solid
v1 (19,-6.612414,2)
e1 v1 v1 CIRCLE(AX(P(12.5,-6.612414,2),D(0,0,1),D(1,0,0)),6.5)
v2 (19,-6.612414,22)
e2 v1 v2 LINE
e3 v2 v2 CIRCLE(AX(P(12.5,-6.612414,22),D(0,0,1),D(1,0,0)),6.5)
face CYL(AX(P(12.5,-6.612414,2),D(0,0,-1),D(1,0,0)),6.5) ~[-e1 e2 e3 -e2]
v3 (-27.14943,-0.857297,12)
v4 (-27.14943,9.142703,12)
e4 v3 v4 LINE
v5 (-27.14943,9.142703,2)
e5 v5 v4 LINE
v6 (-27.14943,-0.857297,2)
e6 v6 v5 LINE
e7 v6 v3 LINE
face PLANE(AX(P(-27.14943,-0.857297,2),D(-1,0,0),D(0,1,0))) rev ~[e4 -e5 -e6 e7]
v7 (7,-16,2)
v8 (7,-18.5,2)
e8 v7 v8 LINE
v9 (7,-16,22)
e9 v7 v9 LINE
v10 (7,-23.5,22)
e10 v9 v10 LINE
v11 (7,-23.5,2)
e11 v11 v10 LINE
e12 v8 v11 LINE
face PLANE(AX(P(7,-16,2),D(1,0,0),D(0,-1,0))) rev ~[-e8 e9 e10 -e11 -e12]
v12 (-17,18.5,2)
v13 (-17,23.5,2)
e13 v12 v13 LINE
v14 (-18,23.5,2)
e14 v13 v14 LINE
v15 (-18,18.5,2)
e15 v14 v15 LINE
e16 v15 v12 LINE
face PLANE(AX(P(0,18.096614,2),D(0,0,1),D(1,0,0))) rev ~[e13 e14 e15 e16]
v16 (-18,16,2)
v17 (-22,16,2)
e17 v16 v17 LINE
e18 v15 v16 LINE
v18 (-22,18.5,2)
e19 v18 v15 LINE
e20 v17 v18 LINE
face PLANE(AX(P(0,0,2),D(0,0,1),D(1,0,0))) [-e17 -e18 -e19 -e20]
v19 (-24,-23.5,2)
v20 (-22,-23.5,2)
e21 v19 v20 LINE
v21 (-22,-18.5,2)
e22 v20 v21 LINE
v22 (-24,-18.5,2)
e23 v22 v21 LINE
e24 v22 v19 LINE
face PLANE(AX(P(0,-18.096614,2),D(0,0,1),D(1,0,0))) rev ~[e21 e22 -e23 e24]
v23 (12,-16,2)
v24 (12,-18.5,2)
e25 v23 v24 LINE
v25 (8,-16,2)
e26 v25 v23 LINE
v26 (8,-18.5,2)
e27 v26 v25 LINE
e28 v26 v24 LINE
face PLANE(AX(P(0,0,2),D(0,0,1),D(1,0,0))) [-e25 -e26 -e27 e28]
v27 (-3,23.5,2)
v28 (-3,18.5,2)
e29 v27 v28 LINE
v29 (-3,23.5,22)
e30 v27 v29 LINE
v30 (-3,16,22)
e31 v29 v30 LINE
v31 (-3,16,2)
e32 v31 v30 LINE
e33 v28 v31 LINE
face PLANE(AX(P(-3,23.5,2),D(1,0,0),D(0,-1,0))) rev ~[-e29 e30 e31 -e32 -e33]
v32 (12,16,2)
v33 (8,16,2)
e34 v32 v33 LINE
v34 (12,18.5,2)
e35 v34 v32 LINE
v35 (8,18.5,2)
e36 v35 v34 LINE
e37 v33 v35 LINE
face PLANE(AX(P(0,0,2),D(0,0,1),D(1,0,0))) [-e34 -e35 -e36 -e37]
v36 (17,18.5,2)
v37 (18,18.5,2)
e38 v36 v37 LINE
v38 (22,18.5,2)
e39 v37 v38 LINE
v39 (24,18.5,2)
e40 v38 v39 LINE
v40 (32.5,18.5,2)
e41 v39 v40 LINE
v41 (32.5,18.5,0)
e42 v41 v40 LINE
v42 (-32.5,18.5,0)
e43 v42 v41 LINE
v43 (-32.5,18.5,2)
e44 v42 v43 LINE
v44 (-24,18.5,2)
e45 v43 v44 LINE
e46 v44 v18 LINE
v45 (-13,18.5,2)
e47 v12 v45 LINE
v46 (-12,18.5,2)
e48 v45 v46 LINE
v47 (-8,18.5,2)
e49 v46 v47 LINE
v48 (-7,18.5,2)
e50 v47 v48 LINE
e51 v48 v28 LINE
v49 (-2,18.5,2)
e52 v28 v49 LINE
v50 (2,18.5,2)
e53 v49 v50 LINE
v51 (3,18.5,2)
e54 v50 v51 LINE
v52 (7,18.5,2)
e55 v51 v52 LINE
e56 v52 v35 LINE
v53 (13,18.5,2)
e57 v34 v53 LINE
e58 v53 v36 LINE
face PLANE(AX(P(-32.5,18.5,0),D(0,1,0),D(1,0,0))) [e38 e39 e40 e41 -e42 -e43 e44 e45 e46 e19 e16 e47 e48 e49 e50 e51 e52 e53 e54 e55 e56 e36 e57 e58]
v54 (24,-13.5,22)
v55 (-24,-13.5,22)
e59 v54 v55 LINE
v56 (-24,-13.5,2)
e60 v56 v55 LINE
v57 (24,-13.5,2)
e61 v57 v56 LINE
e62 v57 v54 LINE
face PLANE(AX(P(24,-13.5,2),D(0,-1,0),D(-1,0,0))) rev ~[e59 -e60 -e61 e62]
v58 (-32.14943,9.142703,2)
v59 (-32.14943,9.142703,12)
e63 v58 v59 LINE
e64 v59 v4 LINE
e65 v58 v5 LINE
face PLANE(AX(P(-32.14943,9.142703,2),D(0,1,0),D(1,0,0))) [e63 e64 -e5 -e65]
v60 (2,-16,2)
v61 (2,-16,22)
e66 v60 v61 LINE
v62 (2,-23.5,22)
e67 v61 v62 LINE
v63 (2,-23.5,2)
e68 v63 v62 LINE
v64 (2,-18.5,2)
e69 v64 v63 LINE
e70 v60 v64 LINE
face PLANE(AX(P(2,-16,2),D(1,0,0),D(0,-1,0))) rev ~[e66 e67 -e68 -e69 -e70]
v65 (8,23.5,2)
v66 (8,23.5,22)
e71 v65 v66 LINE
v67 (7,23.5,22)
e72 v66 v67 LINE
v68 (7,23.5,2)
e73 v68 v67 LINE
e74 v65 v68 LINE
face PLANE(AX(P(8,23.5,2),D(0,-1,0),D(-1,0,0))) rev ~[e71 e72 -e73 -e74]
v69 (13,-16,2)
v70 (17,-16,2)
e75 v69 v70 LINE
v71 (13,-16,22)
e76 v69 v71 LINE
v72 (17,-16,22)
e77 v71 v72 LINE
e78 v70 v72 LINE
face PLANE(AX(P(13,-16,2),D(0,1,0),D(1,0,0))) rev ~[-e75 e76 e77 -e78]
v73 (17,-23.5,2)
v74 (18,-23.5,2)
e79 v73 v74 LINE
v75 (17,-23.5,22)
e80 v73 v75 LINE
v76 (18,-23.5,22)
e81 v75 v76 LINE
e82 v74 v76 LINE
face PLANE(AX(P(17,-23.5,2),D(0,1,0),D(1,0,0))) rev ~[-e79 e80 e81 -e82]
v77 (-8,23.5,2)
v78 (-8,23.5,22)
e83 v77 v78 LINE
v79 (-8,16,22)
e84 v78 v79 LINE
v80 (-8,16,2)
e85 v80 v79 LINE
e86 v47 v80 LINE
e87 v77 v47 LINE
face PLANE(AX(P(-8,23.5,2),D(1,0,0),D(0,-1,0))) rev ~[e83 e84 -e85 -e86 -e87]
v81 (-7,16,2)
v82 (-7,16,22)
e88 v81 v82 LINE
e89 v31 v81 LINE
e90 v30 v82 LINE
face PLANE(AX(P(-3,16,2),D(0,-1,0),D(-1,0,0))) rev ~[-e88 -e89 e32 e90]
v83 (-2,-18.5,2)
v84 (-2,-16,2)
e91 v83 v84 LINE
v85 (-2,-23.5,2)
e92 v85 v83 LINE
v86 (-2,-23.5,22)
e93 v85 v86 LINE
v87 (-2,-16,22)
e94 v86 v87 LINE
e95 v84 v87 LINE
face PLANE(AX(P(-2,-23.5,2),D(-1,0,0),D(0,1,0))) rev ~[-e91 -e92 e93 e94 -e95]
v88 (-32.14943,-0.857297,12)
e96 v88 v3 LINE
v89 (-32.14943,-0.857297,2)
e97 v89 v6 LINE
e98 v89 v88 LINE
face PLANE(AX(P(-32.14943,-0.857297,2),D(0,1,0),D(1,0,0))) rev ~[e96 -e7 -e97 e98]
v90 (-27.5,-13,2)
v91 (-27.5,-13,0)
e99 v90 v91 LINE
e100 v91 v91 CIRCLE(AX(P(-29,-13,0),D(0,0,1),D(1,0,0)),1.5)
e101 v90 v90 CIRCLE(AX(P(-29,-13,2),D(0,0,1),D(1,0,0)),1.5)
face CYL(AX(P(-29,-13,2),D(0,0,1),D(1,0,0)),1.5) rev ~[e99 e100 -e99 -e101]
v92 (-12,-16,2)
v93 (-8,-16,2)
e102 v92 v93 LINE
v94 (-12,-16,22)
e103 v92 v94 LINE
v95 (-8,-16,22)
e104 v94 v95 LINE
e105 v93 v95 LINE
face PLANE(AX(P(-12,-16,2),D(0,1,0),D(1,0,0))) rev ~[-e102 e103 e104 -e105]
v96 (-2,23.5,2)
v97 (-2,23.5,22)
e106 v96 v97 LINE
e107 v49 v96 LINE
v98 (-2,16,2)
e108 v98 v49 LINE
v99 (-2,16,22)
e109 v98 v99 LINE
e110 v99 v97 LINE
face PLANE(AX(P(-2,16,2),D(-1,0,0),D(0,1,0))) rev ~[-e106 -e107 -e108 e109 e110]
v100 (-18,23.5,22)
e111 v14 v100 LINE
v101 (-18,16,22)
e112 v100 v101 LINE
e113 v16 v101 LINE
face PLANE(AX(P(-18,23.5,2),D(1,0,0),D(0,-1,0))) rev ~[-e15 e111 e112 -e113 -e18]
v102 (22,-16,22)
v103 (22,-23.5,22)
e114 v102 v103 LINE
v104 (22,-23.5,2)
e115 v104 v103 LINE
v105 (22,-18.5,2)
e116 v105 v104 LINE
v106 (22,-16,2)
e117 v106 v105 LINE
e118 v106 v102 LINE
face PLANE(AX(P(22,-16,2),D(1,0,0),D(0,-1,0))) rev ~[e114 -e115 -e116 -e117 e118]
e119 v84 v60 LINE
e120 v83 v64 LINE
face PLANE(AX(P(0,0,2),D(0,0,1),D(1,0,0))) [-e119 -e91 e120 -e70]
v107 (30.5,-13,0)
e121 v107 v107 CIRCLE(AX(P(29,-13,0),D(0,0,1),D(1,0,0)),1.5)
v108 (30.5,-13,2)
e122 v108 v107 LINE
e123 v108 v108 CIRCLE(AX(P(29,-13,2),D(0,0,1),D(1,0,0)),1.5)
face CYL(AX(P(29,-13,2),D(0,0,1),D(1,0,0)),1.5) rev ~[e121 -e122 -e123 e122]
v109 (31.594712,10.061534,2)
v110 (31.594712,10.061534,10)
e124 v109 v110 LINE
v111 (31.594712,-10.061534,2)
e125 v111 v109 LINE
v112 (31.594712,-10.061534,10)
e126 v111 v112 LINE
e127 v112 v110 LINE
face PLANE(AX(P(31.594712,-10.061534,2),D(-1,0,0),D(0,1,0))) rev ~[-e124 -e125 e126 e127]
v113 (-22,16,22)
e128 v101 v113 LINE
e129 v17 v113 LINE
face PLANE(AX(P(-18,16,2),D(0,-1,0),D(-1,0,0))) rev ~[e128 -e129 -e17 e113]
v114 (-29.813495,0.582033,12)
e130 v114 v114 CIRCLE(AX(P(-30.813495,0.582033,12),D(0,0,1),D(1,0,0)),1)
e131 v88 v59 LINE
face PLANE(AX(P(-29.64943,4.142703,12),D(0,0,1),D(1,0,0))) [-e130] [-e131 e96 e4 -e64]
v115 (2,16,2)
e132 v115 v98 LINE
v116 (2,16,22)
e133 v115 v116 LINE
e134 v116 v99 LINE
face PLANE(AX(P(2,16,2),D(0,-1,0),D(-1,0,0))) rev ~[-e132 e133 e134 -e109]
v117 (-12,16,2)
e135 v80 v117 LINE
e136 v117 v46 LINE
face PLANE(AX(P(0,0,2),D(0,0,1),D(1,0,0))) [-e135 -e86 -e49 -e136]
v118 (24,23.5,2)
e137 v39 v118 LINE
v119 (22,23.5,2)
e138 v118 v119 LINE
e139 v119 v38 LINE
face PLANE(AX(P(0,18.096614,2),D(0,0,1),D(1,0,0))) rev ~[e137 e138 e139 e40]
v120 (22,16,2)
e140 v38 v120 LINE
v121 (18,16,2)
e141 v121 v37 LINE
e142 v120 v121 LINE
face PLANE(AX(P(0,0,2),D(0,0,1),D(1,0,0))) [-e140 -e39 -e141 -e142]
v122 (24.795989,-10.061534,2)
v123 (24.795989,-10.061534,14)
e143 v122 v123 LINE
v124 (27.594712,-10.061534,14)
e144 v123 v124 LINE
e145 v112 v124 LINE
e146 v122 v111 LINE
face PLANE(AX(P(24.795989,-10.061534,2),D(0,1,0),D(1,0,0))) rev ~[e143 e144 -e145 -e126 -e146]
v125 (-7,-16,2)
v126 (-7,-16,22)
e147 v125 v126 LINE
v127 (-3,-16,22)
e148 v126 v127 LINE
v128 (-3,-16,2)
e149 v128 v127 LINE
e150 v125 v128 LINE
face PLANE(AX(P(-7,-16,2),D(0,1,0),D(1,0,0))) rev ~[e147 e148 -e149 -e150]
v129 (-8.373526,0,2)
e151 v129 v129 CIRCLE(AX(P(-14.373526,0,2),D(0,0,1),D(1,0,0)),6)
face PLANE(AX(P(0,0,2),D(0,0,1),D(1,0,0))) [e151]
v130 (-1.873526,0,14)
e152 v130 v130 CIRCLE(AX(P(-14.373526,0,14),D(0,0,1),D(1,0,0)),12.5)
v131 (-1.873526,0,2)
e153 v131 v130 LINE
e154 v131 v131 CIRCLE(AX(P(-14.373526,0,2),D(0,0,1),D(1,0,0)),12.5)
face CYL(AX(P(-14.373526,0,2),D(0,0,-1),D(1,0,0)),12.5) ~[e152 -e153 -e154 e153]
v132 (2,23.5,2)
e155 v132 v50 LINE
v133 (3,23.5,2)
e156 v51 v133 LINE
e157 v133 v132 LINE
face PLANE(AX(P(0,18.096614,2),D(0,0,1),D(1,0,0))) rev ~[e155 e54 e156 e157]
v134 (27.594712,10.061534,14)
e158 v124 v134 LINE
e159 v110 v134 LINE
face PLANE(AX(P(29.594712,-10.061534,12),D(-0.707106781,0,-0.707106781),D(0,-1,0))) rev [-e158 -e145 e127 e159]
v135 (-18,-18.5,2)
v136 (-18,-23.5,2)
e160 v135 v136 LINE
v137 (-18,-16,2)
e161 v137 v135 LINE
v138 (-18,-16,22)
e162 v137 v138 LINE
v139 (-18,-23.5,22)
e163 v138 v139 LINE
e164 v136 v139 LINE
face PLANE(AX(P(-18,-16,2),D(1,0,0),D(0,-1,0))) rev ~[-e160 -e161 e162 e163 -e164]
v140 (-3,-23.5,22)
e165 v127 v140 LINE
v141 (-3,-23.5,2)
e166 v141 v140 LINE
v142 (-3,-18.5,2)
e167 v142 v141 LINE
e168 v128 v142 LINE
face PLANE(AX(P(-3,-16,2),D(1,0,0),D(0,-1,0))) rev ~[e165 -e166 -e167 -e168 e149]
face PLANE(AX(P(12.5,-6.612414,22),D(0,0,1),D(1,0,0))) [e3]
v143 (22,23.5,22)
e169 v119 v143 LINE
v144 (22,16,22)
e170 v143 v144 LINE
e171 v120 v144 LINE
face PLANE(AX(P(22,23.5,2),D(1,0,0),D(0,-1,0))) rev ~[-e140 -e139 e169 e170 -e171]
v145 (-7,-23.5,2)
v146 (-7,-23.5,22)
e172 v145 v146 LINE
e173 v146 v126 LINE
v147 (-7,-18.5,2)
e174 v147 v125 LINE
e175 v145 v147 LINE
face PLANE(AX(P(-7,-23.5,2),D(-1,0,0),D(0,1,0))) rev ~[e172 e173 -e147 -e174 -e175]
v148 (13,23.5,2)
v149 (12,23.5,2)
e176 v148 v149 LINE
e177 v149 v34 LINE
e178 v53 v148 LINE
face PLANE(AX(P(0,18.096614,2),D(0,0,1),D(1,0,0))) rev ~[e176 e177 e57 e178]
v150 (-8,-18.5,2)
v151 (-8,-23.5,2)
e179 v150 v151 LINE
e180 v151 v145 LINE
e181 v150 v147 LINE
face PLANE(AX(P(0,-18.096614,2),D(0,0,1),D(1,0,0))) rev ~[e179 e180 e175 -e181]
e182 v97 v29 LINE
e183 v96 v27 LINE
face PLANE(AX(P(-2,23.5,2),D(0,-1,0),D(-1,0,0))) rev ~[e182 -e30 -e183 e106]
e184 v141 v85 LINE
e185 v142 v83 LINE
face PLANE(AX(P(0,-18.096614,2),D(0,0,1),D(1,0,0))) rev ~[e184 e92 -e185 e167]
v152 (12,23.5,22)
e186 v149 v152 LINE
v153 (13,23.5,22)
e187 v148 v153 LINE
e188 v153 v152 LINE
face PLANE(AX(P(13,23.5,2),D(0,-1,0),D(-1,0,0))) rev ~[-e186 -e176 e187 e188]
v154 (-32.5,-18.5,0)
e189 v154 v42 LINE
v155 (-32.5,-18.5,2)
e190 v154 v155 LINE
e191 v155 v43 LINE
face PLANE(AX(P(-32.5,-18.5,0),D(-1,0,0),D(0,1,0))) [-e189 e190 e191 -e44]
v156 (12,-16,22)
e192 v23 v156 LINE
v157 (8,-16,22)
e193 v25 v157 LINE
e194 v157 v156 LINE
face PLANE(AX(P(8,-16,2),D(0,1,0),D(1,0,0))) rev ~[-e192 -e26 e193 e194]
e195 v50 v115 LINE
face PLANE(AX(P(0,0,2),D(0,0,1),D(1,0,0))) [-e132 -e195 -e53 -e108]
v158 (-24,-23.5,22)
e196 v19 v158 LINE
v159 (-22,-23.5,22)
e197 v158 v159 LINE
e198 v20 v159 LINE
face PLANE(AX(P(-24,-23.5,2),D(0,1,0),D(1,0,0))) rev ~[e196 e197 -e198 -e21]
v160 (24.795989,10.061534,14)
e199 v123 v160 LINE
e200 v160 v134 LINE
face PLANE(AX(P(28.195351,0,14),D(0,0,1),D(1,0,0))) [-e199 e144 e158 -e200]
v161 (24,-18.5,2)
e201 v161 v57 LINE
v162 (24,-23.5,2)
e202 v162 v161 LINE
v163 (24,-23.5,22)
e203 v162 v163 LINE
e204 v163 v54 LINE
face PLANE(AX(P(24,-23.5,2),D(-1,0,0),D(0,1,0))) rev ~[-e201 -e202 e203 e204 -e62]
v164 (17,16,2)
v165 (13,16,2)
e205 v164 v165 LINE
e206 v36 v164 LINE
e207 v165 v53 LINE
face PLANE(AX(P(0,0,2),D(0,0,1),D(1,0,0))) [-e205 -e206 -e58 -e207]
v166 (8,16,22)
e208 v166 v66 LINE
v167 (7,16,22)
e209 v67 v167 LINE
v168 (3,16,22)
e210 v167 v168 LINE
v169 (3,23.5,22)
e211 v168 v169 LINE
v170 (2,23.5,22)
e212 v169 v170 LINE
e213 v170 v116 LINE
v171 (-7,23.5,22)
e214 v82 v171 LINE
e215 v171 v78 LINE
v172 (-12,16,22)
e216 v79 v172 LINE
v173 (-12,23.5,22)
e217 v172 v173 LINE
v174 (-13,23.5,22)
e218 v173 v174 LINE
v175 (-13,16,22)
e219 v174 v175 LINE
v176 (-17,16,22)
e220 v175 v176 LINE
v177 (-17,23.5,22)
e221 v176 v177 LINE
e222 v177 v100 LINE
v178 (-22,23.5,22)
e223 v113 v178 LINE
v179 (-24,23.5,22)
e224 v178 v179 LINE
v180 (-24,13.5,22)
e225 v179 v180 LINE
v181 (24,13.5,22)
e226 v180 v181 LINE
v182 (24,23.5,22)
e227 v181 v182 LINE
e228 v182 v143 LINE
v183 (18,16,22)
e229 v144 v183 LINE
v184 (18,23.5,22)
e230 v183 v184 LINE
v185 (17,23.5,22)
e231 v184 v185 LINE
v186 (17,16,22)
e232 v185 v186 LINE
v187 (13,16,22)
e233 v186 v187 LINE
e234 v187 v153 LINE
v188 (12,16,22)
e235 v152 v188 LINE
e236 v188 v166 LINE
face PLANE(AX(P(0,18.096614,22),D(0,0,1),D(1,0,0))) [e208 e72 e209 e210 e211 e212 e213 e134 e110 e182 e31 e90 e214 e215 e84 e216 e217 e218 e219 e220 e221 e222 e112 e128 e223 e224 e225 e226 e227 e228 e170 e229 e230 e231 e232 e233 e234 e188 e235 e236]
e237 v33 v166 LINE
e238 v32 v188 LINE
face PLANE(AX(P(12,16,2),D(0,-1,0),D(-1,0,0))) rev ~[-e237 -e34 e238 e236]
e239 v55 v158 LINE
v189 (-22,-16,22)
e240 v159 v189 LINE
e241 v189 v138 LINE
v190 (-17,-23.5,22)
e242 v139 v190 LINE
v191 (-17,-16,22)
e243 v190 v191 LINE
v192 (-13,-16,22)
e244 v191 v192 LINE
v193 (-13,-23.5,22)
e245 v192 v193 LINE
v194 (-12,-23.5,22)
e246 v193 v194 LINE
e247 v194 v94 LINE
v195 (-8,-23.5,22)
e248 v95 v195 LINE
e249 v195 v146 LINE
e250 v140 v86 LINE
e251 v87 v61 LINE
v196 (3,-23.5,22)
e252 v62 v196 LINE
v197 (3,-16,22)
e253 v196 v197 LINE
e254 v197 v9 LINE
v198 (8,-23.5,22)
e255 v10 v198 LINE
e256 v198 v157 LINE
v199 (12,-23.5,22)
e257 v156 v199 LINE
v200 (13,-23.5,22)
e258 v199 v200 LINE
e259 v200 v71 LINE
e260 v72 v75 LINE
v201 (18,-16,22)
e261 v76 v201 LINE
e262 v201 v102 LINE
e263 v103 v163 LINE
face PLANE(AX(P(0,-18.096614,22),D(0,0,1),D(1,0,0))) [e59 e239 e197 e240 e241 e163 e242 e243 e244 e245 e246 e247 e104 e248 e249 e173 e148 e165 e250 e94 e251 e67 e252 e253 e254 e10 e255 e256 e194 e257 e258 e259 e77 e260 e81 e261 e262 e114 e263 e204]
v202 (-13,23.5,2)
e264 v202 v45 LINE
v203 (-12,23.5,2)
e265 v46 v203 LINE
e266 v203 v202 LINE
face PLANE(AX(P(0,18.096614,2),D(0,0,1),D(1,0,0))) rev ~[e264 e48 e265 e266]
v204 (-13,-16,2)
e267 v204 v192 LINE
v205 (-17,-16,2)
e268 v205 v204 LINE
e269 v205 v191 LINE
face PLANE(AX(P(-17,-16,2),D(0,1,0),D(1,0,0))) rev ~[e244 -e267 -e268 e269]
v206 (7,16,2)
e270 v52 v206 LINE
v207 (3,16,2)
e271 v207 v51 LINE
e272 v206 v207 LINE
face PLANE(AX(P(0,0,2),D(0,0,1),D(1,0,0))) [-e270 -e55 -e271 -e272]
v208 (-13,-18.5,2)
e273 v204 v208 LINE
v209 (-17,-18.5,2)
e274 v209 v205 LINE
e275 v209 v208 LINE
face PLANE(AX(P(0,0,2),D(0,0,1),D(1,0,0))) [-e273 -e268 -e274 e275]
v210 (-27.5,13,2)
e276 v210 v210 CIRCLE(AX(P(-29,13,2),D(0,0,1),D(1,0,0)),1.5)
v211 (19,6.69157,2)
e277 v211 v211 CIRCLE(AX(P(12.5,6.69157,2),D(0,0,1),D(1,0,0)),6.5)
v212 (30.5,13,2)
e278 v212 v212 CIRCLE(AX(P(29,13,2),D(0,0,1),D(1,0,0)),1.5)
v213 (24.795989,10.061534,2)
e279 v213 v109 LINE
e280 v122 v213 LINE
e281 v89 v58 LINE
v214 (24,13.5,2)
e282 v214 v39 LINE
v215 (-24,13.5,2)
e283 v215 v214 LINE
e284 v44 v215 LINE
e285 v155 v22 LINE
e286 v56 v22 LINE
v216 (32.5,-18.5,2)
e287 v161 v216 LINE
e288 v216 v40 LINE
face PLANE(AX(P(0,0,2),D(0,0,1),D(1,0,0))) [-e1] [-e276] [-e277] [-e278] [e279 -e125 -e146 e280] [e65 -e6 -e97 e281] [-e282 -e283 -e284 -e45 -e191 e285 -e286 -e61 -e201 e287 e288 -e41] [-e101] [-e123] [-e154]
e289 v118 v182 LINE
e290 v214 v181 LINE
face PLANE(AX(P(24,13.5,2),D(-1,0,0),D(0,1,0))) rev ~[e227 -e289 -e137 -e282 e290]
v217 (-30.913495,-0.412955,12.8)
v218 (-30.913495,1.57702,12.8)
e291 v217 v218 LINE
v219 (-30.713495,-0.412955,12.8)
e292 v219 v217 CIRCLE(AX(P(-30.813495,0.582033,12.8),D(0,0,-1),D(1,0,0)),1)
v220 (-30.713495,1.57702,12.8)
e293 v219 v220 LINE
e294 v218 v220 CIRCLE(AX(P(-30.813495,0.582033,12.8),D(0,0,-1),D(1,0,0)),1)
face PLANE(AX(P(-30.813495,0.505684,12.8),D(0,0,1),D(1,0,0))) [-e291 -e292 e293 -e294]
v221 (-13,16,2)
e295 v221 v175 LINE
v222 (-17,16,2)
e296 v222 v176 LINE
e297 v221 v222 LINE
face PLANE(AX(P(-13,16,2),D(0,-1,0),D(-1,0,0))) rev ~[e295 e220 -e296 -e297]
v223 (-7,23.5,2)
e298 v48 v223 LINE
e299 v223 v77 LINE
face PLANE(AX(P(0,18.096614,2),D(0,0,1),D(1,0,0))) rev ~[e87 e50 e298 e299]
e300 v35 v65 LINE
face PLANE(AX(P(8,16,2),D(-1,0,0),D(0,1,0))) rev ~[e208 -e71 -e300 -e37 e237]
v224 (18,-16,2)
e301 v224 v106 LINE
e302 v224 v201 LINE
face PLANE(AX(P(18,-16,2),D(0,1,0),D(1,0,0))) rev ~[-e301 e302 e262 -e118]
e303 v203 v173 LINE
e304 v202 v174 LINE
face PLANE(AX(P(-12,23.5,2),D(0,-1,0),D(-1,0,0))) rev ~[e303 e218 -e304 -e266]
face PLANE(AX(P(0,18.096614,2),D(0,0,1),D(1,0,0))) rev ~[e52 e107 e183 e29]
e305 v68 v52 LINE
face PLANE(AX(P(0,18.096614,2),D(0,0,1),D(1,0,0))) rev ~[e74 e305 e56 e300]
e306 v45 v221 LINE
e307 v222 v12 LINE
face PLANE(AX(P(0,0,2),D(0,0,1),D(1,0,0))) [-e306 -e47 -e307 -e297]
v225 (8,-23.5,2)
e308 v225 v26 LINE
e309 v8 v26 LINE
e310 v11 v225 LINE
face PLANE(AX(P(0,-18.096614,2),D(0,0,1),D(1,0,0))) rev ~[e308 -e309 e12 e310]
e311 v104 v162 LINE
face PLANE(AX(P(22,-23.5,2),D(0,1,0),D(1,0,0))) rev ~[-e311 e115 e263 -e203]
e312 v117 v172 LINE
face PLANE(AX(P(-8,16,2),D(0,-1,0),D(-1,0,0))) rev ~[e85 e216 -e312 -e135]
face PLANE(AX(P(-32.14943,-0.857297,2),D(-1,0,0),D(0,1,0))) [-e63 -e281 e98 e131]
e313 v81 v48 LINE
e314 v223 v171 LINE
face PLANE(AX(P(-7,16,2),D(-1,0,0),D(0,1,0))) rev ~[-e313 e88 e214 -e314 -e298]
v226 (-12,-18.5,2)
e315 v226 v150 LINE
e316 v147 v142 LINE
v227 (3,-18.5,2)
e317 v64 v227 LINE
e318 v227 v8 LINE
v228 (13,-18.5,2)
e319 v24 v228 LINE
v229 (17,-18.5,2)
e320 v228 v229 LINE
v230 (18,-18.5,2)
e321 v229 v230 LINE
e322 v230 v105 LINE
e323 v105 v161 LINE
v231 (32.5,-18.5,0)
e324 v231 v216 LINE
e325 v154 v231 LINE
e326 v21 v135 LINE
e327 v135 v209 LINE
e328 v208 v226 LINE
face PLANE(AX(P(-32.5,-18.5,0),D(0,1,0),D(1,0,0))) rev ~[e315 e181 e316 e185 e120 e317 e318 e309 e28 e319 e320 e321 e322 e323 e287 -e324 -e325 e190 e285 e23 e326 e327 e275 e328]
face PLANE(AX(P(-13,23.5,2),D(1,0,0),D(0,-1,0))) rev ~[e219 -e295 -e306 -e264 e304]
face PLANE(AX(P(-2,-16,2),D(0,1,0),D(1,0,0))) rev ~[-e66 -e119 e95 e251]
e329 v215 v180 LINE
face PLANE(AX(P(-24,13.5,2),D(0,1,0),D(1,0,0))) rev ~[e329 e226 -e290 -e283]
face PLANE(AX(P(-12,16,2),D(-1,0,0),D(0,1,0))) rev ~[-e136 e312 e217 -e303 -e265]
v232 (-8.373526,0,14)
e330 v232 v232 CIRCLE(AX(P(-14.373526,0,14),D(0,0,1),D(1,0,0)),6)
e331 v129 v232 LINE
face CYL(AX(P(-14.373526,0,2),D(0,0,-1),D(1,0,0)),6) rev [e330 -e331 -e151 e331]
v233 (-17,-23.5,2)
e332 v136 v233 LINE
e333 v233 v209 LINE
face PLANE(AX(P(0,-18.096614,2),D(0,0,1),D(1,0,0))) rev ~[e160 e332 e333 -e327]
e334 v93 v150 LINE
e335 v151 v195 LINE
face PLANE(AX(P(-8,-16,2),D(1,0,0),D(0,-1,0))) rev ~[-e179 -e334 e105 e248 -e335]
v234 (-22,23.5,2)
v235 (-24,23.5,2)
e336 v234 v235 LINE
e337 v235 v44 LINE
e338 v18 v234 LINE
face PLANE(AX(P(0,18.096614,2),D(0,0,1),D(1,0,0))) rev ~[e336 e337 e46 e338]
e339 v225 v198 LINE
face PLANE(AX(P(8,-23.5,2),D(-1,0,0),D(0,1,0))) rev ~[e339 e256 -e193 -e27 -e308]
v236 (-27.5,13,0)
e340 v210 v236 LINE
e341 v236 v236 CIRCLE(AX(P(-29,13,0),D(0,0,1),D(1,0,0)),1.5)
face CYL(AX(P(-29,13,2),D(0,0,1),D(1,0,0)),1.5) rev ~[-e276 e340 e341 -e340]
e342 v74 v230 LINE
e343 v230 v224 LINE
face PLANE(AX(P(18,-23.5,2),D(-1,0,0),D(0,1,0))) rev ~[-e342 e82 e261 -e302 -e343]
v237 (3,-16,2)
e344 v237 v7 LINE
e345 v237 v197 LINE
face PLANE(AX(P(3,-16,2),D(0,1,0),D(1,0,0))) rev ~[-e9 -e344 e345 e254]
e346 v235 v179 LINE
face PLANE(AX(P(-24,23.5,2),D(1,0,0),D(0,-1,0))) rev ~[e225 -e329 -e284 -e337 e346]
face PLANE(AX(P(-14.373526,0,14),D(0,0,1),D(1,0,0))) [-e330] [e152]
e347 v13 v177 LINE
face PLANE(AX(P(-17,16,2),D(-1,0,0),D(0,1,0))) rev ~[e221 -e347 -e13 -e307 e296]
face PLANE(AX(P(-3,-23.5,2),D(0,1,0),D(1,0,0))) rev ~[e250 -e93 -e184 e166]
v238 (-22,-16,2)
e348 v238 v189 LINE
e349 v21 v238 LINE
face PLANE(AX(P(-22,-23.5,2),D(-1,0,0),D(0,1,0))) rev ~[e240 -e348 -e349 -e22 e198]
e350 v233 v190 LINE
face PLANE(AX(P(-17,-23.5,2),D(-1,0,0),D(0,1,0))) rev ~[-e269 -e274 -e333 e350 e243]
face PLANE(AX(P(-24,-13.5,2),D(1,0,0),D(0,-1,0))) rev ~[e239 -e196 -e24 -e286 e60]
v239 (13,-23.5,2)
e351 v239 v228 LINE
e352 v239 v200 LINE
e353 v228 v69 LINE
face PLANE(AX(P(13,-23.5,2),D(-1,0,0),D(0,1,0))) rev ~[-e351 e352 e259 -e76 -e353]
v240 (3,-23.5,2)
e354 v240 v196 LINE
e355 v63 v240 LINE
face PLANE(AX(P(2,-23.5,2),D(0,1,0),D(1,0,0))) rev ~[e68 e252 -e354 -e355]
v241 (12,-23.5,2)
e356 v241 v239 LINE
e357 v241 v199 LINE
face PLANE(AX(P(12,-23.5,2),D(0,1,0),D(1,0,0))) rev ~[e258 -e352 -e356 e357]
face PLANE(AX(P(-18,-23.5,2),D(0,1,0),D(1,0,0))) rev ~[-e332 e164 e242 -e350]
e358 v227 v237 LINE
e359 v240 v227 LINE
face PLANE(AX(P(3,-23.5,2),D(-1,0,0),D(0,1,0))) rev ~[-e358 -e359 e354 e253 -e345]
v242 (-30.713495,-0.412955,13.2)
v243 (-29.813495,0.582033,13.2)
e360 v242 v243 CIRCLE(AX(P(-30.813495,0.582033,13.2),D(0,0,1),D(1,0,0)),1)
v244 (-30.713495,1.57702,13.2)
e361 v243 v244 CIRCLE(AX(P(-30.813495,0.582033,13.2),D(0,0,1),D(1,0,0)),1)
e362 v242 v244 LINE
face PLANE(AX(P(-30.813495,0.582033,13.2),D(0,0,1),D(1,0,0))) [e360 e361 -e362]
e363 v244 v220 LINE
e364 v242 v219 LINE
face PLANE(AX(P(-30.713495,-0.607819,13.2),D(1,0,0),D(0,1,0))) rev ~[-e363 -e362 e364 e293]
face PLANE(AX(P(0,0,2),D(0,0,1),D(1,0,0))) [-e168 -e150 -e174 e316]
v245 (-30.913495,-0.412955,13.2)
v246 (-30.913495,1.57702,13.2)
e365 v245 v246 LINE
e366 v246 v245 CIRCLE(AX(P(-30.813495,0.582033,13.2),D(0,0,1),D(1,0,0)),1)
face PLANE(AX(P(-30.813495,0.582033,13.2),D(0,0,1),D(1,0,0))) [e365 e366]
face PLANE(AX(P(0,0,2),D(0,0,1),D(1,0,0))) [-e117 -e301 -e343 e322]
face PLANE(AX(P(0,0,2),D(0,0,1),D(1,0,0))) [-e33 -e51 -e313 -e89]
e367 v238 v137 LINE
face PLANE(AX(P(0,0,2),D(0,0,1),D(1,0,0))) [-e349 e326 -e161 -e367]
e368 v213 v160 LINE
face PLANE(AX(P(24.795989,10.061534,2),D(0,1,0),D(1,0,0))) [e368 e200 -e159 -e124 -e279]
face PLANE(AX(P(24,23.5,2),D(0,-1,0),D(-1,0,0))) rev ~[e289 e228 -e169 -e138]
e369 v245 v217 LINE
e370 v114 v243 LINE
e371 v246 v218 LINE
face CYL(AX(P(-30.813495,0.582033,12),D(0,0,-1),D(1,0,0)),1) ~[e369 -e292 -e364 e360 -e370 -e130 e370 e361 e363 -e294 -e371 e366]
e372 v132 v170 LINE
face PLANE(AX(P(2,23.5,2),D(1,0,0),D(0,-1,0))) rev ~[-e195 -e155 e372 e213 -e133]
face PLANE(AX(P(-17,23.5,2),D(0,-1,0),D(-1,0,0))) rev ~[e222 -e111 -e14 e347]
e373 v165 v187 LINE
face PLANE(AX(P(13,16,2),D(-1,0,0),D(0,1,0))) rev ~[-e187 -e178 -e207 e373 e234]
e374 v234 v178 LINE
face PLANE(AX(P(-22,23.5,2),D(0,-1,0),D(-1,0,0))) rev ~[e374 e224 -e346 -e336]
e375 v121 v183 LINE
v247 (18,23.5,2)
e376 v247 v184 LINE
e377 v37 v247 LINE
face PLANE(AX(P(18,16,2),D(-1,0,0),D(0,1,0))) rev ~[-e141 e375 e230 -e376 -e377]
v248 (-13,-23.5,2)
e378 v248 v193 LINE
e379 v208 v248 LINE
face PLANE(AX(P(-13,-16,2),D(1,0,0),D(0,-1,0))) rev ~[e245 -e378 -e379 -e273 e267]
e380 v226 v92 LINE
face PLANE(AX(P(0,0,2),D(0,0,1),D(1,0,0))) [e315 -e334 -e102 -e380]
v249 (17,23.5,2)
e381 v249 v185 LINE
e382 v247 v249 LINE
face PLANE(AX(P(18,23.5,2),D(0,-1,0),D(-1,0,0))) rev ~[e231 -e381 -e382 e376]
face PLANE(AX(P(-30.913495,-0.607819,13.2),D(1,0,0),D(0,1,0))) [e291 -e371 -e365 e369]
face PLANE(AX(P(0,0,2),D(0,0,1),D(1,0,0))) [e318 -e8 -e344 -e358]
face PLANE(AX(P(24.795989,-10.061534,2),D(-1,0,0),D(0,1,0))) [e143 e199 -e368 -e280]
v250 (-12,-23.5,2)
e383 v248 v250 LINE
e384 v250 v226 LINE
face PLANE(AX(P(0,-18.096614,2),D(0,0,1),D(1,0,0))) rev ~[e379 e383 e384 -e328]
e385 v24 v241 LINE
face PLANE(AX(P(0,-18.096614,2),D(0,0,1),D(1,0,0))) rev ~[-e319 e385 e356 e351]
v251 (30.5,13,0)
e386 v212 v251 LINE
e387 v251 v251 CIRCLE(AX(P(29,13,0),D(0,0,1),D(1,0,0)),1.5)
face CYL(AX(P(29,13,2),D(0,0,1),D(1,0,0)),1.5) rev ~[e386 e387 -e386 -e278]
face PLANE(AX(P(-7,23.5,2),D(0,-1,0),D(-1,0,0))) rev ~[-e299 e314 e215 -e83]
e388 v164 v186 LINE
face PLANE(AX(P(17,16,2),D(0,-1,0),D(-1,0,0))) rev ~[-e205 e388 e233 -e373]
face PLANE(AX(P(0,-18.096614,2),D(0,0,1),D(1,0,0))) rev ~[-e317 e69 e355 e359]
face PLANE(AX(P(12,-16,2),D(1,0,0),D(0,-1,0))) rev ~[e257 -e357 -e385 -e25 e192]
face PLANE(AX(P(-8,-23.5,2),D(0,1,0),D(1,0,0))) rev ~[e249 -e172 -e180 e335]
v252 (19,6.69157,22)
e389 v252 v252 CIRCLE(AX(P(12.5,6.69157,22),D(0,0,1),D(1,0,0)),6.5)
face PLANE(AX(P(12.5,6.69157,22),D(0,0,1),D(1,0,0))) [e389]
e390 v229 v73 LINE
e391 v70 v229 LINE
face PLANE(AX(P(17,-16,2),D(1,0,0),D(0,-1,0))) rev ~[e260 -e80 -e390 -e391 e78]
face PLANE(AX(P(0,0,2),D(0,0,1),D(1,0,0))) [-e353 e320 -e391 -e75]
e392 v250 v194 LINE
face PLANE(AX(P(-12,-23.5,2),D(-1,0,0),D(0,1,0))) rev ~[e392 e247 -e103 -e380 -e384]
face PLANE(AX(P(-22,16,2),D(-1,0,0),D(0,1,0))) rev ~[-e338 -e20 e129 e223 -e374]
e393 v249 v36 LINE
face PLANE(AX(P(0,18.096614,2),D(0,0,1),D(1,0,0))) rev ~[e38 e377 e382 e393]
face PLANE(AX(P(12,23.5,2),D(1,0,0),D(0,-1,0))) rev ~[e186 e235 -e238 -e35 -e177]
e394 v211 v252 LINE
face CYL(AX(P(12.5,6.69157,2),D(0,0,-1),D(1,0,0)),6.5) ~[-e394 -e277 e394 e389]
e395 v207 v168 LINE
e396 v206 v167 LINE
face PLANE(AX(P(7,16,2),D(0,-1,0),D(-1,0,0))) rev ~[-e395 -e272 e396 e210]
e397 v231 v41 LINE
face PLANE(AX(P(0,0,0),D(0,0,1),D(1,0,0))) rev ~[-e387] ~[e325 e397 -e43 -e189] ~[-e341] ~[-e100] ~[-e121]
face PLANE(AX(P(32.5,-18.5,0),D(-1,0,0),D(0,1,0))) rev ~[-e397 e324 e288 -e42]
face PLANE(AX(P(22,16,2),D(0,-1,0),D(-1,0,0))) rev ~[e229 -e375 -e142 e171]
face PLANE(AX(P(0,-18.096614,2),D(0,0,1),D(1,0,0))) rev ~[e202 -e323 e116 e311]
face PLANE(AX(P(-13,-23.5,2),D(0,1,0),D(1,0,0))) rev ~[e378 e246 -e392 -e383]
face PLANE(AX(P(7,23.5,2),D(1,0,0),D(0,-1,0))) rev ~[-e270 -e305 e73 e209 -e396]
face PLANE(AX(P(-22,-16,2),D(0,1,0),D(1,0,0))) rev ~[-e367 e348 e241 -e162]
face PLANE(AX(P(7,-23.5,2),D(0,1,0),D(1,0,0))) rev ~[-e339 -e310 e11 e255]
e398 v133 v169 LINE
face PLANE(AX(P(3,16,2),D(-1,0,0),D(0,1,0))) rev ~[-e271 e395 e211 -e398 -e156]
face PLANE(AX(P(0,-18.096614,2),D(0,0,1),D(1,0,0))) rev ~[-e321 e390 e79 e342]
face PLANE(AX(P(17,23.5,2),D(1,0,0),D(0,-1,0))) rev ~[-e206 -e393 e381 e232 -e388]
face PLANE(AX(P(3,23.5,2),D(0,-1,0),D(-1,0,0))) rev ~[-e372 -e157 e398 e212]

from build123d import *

# Parameters (mm, degrees)
SKETCH_1_W          = 65
SKETCH_1_H          = 37
EXTRUDE_1_DEPTH     = 2
EXTRUDE_2_DEPTH     = 20
SKETCH_3_R          = 6.5
EXTRUDE_3_DEPTH     = 20
SKETCH_4_R          = 12.5
SKETCH_4_R_2        = 6
EXTRUDE_4_DEPTH     = 12
SKETCH_5_W          = 5
SKETCH_5_H          = 10
EXTRUDE_5_DEPTH     = 10
SKETCH_6_R          = 1
EXTRUDE_6_DEPTH     = 1.2
SKETCH_7_W          = 6.798722996
SKETCH_7_H          = 20.12306807
EXTRUDE_7_DEPTH     = 12
CHAMFER_1_SIZE      = 4
SKETCH_8_R          = 1.5
CUT_EXTRUDE_1_DEPTH = 3
SKETCH1_W           = 0.2
SKETCH1_H           = 2.227006651
CUT_EXTRUDE1_DEPTH  = 0.4


with BuildPart() as part:
    # Эскиз1 → Бобышка-Вытянуть1 (new body)
    with BuildSketch(Plane.XY):
        Rectangle(SKETCH_1_W, SKETCH_1_H)
    extrude(amount=EXTRUDE_1_DEPTH)

    # Эскиз2 → Бобышка-Вытянуть2 (add)
    with BuildSketch(Plane.XY.offset(2)):
        Polygon((-24, 23.5), (-24, 13.5), (24, 13.5), (24, 23.5), (22, 23.5), (22, 16), (18, 16), (18, 23.5), (17, 23.5), (17, 16), (13, 16), (13, 23.5), (12, 23.5), (12, 16), (8, 16), (8, 23.5), (7, 23.5), (7, 16), (3, 16), (3, 23.5), (2, 23.5), (2, 16), (-2, 16), (-2, 23.5), (-3, 23.5), (-3, 16), (-7, 16), (-7, 23.5), (-8, 23.5), (-8, 16), (-12, 16), (-12, 23.5), (-13, 23.5), (-13, 16), (-17, 16), (-17, 23.5), (-18, 23.5), (-18, 16), (-22, 16), (-22, 23.5), align=None)
        Polygon((22, -23.5), (24, -23.5), (24, -13.5), (-24, -13.5), (-24, -23.5), (-22, -23.5), (-22, -16), (-18, -16), (-18, -23.5), (-17, -23.5), (-17, -16), (-13, -16), (-13, -23.5), (-12, -23.5), (-12, -16), (-8, -16), (-8, -23.5), (-7, -23.5), (-7, -16), (-3, -16), (-3, -23.5), (-2, -23.5), (-2, -16), (2, -16), (2, -23.5), (3, -23.5), (3, -16), (7, -16), (7, -23.5), (8, -23.5), (8, -16), (12, -16), (12, -23.5), (13, -23.5), (13, -16), (17, -16), (17, -23.5), (18, -23.5), (18, -16), (22, -16), align=None)
    extrude(amount=EXTRUDE_2_DEPTH)

    # Эскиз3 → Бобышка-Вытянуть3 (add)
    with BuildSketch(Plane.XY.offset(2)):
        with Locations((12.5, 6.691570058)):
            Circle(SKETCH_3_R)
        with Locations((12.5, -6.612413993)):
            Circle(SKETCH_3_R)
    extrude(amount=EXTRUDE_3_DEPTH)

    # Эскиз4 → Бобышка-Вытянуть4 (add)
    with BuildSketch(Plane.XY.offset(2)):
        with Locations((-14.373526478, 0)):
            Circle(SKETCH_4_R)
        with Locations((-14.373526478, 0)):
            Circle(SKETCH_4_R_2, mode=Mode.SUBTRACT)
    extrude(amount=EXTRUDE_4_DEPTH)

    # Эскиз5 → Бобышка-Вытянуть5 (add)
    with BuildSketch(Plane.XY.offset(2)):
        with Locations((-29.649429854, 4.142703247)):
            Rectangle(SKETCH_5_W, SKETCH_5_H)
    extrude(amount=EXTRUDE_5_DEPTH)

    # Эскиз6 → Бобышка-Вытянуть6 (add)
    with BuildSketch(Plane.XY.offset(12)):
        with Locations((-30.813495229, 0.582032688)):
            Circle(SKETCH_6_R)
    extrude(amount=EXTRUDE_6_DEPTH)

    # Эскиз7 → Бобышка-Вытянуть7 (add)
    with BuildSketch(Plane.XY.offset(2)):
        with Locations((28.195350692, 0)):
            Rectangle(SKETCH_7_W, SKETCH_7_H)
    extrude(amount=EXTRUDE_7_DEPTH)

    # Фаска1
    chamfer_1_edges = [part.edges().sort_by_distance(p)[0] for p in [
        (31.59471219, 0, 14),
    ]]
    chamfer(chamfer_1_edges, length=CHAMFER_1_SIZE)

    # Эскиз8 → Вырез-Вытянуть1 (cut, through all)
    with BuildSketch(Plane.XY.offset(2)):
        with Locations((-29, 13)):
            Circle(SKETCH_8_R)
        with Locations((29, 13)):
            Circle(SKETCH_8_R)
        with Locations((29, -13)):
            Circle(SKETCH_8_R)
        with Locations((-29, -13)):
            Circle(SKETCH_8_R)
    extrude(amount=-CUT_EXTRUDE_1_DEPTH, mode=Mode.SUBTRACT)

    # Sketch1 → Cut-Extrude1 (cut)
    with BuildSketch(Plane.XY.offset(13.2)):
        with Locations((-30.813495229, 0.505684331)):
            Rectangle(SKETCH1_W, SKETCH1_H)
    extrude(amount=-CUT_EXTRUDE1_DEPTH, mode=Mode.SUBTRACT)


solid = part.part
